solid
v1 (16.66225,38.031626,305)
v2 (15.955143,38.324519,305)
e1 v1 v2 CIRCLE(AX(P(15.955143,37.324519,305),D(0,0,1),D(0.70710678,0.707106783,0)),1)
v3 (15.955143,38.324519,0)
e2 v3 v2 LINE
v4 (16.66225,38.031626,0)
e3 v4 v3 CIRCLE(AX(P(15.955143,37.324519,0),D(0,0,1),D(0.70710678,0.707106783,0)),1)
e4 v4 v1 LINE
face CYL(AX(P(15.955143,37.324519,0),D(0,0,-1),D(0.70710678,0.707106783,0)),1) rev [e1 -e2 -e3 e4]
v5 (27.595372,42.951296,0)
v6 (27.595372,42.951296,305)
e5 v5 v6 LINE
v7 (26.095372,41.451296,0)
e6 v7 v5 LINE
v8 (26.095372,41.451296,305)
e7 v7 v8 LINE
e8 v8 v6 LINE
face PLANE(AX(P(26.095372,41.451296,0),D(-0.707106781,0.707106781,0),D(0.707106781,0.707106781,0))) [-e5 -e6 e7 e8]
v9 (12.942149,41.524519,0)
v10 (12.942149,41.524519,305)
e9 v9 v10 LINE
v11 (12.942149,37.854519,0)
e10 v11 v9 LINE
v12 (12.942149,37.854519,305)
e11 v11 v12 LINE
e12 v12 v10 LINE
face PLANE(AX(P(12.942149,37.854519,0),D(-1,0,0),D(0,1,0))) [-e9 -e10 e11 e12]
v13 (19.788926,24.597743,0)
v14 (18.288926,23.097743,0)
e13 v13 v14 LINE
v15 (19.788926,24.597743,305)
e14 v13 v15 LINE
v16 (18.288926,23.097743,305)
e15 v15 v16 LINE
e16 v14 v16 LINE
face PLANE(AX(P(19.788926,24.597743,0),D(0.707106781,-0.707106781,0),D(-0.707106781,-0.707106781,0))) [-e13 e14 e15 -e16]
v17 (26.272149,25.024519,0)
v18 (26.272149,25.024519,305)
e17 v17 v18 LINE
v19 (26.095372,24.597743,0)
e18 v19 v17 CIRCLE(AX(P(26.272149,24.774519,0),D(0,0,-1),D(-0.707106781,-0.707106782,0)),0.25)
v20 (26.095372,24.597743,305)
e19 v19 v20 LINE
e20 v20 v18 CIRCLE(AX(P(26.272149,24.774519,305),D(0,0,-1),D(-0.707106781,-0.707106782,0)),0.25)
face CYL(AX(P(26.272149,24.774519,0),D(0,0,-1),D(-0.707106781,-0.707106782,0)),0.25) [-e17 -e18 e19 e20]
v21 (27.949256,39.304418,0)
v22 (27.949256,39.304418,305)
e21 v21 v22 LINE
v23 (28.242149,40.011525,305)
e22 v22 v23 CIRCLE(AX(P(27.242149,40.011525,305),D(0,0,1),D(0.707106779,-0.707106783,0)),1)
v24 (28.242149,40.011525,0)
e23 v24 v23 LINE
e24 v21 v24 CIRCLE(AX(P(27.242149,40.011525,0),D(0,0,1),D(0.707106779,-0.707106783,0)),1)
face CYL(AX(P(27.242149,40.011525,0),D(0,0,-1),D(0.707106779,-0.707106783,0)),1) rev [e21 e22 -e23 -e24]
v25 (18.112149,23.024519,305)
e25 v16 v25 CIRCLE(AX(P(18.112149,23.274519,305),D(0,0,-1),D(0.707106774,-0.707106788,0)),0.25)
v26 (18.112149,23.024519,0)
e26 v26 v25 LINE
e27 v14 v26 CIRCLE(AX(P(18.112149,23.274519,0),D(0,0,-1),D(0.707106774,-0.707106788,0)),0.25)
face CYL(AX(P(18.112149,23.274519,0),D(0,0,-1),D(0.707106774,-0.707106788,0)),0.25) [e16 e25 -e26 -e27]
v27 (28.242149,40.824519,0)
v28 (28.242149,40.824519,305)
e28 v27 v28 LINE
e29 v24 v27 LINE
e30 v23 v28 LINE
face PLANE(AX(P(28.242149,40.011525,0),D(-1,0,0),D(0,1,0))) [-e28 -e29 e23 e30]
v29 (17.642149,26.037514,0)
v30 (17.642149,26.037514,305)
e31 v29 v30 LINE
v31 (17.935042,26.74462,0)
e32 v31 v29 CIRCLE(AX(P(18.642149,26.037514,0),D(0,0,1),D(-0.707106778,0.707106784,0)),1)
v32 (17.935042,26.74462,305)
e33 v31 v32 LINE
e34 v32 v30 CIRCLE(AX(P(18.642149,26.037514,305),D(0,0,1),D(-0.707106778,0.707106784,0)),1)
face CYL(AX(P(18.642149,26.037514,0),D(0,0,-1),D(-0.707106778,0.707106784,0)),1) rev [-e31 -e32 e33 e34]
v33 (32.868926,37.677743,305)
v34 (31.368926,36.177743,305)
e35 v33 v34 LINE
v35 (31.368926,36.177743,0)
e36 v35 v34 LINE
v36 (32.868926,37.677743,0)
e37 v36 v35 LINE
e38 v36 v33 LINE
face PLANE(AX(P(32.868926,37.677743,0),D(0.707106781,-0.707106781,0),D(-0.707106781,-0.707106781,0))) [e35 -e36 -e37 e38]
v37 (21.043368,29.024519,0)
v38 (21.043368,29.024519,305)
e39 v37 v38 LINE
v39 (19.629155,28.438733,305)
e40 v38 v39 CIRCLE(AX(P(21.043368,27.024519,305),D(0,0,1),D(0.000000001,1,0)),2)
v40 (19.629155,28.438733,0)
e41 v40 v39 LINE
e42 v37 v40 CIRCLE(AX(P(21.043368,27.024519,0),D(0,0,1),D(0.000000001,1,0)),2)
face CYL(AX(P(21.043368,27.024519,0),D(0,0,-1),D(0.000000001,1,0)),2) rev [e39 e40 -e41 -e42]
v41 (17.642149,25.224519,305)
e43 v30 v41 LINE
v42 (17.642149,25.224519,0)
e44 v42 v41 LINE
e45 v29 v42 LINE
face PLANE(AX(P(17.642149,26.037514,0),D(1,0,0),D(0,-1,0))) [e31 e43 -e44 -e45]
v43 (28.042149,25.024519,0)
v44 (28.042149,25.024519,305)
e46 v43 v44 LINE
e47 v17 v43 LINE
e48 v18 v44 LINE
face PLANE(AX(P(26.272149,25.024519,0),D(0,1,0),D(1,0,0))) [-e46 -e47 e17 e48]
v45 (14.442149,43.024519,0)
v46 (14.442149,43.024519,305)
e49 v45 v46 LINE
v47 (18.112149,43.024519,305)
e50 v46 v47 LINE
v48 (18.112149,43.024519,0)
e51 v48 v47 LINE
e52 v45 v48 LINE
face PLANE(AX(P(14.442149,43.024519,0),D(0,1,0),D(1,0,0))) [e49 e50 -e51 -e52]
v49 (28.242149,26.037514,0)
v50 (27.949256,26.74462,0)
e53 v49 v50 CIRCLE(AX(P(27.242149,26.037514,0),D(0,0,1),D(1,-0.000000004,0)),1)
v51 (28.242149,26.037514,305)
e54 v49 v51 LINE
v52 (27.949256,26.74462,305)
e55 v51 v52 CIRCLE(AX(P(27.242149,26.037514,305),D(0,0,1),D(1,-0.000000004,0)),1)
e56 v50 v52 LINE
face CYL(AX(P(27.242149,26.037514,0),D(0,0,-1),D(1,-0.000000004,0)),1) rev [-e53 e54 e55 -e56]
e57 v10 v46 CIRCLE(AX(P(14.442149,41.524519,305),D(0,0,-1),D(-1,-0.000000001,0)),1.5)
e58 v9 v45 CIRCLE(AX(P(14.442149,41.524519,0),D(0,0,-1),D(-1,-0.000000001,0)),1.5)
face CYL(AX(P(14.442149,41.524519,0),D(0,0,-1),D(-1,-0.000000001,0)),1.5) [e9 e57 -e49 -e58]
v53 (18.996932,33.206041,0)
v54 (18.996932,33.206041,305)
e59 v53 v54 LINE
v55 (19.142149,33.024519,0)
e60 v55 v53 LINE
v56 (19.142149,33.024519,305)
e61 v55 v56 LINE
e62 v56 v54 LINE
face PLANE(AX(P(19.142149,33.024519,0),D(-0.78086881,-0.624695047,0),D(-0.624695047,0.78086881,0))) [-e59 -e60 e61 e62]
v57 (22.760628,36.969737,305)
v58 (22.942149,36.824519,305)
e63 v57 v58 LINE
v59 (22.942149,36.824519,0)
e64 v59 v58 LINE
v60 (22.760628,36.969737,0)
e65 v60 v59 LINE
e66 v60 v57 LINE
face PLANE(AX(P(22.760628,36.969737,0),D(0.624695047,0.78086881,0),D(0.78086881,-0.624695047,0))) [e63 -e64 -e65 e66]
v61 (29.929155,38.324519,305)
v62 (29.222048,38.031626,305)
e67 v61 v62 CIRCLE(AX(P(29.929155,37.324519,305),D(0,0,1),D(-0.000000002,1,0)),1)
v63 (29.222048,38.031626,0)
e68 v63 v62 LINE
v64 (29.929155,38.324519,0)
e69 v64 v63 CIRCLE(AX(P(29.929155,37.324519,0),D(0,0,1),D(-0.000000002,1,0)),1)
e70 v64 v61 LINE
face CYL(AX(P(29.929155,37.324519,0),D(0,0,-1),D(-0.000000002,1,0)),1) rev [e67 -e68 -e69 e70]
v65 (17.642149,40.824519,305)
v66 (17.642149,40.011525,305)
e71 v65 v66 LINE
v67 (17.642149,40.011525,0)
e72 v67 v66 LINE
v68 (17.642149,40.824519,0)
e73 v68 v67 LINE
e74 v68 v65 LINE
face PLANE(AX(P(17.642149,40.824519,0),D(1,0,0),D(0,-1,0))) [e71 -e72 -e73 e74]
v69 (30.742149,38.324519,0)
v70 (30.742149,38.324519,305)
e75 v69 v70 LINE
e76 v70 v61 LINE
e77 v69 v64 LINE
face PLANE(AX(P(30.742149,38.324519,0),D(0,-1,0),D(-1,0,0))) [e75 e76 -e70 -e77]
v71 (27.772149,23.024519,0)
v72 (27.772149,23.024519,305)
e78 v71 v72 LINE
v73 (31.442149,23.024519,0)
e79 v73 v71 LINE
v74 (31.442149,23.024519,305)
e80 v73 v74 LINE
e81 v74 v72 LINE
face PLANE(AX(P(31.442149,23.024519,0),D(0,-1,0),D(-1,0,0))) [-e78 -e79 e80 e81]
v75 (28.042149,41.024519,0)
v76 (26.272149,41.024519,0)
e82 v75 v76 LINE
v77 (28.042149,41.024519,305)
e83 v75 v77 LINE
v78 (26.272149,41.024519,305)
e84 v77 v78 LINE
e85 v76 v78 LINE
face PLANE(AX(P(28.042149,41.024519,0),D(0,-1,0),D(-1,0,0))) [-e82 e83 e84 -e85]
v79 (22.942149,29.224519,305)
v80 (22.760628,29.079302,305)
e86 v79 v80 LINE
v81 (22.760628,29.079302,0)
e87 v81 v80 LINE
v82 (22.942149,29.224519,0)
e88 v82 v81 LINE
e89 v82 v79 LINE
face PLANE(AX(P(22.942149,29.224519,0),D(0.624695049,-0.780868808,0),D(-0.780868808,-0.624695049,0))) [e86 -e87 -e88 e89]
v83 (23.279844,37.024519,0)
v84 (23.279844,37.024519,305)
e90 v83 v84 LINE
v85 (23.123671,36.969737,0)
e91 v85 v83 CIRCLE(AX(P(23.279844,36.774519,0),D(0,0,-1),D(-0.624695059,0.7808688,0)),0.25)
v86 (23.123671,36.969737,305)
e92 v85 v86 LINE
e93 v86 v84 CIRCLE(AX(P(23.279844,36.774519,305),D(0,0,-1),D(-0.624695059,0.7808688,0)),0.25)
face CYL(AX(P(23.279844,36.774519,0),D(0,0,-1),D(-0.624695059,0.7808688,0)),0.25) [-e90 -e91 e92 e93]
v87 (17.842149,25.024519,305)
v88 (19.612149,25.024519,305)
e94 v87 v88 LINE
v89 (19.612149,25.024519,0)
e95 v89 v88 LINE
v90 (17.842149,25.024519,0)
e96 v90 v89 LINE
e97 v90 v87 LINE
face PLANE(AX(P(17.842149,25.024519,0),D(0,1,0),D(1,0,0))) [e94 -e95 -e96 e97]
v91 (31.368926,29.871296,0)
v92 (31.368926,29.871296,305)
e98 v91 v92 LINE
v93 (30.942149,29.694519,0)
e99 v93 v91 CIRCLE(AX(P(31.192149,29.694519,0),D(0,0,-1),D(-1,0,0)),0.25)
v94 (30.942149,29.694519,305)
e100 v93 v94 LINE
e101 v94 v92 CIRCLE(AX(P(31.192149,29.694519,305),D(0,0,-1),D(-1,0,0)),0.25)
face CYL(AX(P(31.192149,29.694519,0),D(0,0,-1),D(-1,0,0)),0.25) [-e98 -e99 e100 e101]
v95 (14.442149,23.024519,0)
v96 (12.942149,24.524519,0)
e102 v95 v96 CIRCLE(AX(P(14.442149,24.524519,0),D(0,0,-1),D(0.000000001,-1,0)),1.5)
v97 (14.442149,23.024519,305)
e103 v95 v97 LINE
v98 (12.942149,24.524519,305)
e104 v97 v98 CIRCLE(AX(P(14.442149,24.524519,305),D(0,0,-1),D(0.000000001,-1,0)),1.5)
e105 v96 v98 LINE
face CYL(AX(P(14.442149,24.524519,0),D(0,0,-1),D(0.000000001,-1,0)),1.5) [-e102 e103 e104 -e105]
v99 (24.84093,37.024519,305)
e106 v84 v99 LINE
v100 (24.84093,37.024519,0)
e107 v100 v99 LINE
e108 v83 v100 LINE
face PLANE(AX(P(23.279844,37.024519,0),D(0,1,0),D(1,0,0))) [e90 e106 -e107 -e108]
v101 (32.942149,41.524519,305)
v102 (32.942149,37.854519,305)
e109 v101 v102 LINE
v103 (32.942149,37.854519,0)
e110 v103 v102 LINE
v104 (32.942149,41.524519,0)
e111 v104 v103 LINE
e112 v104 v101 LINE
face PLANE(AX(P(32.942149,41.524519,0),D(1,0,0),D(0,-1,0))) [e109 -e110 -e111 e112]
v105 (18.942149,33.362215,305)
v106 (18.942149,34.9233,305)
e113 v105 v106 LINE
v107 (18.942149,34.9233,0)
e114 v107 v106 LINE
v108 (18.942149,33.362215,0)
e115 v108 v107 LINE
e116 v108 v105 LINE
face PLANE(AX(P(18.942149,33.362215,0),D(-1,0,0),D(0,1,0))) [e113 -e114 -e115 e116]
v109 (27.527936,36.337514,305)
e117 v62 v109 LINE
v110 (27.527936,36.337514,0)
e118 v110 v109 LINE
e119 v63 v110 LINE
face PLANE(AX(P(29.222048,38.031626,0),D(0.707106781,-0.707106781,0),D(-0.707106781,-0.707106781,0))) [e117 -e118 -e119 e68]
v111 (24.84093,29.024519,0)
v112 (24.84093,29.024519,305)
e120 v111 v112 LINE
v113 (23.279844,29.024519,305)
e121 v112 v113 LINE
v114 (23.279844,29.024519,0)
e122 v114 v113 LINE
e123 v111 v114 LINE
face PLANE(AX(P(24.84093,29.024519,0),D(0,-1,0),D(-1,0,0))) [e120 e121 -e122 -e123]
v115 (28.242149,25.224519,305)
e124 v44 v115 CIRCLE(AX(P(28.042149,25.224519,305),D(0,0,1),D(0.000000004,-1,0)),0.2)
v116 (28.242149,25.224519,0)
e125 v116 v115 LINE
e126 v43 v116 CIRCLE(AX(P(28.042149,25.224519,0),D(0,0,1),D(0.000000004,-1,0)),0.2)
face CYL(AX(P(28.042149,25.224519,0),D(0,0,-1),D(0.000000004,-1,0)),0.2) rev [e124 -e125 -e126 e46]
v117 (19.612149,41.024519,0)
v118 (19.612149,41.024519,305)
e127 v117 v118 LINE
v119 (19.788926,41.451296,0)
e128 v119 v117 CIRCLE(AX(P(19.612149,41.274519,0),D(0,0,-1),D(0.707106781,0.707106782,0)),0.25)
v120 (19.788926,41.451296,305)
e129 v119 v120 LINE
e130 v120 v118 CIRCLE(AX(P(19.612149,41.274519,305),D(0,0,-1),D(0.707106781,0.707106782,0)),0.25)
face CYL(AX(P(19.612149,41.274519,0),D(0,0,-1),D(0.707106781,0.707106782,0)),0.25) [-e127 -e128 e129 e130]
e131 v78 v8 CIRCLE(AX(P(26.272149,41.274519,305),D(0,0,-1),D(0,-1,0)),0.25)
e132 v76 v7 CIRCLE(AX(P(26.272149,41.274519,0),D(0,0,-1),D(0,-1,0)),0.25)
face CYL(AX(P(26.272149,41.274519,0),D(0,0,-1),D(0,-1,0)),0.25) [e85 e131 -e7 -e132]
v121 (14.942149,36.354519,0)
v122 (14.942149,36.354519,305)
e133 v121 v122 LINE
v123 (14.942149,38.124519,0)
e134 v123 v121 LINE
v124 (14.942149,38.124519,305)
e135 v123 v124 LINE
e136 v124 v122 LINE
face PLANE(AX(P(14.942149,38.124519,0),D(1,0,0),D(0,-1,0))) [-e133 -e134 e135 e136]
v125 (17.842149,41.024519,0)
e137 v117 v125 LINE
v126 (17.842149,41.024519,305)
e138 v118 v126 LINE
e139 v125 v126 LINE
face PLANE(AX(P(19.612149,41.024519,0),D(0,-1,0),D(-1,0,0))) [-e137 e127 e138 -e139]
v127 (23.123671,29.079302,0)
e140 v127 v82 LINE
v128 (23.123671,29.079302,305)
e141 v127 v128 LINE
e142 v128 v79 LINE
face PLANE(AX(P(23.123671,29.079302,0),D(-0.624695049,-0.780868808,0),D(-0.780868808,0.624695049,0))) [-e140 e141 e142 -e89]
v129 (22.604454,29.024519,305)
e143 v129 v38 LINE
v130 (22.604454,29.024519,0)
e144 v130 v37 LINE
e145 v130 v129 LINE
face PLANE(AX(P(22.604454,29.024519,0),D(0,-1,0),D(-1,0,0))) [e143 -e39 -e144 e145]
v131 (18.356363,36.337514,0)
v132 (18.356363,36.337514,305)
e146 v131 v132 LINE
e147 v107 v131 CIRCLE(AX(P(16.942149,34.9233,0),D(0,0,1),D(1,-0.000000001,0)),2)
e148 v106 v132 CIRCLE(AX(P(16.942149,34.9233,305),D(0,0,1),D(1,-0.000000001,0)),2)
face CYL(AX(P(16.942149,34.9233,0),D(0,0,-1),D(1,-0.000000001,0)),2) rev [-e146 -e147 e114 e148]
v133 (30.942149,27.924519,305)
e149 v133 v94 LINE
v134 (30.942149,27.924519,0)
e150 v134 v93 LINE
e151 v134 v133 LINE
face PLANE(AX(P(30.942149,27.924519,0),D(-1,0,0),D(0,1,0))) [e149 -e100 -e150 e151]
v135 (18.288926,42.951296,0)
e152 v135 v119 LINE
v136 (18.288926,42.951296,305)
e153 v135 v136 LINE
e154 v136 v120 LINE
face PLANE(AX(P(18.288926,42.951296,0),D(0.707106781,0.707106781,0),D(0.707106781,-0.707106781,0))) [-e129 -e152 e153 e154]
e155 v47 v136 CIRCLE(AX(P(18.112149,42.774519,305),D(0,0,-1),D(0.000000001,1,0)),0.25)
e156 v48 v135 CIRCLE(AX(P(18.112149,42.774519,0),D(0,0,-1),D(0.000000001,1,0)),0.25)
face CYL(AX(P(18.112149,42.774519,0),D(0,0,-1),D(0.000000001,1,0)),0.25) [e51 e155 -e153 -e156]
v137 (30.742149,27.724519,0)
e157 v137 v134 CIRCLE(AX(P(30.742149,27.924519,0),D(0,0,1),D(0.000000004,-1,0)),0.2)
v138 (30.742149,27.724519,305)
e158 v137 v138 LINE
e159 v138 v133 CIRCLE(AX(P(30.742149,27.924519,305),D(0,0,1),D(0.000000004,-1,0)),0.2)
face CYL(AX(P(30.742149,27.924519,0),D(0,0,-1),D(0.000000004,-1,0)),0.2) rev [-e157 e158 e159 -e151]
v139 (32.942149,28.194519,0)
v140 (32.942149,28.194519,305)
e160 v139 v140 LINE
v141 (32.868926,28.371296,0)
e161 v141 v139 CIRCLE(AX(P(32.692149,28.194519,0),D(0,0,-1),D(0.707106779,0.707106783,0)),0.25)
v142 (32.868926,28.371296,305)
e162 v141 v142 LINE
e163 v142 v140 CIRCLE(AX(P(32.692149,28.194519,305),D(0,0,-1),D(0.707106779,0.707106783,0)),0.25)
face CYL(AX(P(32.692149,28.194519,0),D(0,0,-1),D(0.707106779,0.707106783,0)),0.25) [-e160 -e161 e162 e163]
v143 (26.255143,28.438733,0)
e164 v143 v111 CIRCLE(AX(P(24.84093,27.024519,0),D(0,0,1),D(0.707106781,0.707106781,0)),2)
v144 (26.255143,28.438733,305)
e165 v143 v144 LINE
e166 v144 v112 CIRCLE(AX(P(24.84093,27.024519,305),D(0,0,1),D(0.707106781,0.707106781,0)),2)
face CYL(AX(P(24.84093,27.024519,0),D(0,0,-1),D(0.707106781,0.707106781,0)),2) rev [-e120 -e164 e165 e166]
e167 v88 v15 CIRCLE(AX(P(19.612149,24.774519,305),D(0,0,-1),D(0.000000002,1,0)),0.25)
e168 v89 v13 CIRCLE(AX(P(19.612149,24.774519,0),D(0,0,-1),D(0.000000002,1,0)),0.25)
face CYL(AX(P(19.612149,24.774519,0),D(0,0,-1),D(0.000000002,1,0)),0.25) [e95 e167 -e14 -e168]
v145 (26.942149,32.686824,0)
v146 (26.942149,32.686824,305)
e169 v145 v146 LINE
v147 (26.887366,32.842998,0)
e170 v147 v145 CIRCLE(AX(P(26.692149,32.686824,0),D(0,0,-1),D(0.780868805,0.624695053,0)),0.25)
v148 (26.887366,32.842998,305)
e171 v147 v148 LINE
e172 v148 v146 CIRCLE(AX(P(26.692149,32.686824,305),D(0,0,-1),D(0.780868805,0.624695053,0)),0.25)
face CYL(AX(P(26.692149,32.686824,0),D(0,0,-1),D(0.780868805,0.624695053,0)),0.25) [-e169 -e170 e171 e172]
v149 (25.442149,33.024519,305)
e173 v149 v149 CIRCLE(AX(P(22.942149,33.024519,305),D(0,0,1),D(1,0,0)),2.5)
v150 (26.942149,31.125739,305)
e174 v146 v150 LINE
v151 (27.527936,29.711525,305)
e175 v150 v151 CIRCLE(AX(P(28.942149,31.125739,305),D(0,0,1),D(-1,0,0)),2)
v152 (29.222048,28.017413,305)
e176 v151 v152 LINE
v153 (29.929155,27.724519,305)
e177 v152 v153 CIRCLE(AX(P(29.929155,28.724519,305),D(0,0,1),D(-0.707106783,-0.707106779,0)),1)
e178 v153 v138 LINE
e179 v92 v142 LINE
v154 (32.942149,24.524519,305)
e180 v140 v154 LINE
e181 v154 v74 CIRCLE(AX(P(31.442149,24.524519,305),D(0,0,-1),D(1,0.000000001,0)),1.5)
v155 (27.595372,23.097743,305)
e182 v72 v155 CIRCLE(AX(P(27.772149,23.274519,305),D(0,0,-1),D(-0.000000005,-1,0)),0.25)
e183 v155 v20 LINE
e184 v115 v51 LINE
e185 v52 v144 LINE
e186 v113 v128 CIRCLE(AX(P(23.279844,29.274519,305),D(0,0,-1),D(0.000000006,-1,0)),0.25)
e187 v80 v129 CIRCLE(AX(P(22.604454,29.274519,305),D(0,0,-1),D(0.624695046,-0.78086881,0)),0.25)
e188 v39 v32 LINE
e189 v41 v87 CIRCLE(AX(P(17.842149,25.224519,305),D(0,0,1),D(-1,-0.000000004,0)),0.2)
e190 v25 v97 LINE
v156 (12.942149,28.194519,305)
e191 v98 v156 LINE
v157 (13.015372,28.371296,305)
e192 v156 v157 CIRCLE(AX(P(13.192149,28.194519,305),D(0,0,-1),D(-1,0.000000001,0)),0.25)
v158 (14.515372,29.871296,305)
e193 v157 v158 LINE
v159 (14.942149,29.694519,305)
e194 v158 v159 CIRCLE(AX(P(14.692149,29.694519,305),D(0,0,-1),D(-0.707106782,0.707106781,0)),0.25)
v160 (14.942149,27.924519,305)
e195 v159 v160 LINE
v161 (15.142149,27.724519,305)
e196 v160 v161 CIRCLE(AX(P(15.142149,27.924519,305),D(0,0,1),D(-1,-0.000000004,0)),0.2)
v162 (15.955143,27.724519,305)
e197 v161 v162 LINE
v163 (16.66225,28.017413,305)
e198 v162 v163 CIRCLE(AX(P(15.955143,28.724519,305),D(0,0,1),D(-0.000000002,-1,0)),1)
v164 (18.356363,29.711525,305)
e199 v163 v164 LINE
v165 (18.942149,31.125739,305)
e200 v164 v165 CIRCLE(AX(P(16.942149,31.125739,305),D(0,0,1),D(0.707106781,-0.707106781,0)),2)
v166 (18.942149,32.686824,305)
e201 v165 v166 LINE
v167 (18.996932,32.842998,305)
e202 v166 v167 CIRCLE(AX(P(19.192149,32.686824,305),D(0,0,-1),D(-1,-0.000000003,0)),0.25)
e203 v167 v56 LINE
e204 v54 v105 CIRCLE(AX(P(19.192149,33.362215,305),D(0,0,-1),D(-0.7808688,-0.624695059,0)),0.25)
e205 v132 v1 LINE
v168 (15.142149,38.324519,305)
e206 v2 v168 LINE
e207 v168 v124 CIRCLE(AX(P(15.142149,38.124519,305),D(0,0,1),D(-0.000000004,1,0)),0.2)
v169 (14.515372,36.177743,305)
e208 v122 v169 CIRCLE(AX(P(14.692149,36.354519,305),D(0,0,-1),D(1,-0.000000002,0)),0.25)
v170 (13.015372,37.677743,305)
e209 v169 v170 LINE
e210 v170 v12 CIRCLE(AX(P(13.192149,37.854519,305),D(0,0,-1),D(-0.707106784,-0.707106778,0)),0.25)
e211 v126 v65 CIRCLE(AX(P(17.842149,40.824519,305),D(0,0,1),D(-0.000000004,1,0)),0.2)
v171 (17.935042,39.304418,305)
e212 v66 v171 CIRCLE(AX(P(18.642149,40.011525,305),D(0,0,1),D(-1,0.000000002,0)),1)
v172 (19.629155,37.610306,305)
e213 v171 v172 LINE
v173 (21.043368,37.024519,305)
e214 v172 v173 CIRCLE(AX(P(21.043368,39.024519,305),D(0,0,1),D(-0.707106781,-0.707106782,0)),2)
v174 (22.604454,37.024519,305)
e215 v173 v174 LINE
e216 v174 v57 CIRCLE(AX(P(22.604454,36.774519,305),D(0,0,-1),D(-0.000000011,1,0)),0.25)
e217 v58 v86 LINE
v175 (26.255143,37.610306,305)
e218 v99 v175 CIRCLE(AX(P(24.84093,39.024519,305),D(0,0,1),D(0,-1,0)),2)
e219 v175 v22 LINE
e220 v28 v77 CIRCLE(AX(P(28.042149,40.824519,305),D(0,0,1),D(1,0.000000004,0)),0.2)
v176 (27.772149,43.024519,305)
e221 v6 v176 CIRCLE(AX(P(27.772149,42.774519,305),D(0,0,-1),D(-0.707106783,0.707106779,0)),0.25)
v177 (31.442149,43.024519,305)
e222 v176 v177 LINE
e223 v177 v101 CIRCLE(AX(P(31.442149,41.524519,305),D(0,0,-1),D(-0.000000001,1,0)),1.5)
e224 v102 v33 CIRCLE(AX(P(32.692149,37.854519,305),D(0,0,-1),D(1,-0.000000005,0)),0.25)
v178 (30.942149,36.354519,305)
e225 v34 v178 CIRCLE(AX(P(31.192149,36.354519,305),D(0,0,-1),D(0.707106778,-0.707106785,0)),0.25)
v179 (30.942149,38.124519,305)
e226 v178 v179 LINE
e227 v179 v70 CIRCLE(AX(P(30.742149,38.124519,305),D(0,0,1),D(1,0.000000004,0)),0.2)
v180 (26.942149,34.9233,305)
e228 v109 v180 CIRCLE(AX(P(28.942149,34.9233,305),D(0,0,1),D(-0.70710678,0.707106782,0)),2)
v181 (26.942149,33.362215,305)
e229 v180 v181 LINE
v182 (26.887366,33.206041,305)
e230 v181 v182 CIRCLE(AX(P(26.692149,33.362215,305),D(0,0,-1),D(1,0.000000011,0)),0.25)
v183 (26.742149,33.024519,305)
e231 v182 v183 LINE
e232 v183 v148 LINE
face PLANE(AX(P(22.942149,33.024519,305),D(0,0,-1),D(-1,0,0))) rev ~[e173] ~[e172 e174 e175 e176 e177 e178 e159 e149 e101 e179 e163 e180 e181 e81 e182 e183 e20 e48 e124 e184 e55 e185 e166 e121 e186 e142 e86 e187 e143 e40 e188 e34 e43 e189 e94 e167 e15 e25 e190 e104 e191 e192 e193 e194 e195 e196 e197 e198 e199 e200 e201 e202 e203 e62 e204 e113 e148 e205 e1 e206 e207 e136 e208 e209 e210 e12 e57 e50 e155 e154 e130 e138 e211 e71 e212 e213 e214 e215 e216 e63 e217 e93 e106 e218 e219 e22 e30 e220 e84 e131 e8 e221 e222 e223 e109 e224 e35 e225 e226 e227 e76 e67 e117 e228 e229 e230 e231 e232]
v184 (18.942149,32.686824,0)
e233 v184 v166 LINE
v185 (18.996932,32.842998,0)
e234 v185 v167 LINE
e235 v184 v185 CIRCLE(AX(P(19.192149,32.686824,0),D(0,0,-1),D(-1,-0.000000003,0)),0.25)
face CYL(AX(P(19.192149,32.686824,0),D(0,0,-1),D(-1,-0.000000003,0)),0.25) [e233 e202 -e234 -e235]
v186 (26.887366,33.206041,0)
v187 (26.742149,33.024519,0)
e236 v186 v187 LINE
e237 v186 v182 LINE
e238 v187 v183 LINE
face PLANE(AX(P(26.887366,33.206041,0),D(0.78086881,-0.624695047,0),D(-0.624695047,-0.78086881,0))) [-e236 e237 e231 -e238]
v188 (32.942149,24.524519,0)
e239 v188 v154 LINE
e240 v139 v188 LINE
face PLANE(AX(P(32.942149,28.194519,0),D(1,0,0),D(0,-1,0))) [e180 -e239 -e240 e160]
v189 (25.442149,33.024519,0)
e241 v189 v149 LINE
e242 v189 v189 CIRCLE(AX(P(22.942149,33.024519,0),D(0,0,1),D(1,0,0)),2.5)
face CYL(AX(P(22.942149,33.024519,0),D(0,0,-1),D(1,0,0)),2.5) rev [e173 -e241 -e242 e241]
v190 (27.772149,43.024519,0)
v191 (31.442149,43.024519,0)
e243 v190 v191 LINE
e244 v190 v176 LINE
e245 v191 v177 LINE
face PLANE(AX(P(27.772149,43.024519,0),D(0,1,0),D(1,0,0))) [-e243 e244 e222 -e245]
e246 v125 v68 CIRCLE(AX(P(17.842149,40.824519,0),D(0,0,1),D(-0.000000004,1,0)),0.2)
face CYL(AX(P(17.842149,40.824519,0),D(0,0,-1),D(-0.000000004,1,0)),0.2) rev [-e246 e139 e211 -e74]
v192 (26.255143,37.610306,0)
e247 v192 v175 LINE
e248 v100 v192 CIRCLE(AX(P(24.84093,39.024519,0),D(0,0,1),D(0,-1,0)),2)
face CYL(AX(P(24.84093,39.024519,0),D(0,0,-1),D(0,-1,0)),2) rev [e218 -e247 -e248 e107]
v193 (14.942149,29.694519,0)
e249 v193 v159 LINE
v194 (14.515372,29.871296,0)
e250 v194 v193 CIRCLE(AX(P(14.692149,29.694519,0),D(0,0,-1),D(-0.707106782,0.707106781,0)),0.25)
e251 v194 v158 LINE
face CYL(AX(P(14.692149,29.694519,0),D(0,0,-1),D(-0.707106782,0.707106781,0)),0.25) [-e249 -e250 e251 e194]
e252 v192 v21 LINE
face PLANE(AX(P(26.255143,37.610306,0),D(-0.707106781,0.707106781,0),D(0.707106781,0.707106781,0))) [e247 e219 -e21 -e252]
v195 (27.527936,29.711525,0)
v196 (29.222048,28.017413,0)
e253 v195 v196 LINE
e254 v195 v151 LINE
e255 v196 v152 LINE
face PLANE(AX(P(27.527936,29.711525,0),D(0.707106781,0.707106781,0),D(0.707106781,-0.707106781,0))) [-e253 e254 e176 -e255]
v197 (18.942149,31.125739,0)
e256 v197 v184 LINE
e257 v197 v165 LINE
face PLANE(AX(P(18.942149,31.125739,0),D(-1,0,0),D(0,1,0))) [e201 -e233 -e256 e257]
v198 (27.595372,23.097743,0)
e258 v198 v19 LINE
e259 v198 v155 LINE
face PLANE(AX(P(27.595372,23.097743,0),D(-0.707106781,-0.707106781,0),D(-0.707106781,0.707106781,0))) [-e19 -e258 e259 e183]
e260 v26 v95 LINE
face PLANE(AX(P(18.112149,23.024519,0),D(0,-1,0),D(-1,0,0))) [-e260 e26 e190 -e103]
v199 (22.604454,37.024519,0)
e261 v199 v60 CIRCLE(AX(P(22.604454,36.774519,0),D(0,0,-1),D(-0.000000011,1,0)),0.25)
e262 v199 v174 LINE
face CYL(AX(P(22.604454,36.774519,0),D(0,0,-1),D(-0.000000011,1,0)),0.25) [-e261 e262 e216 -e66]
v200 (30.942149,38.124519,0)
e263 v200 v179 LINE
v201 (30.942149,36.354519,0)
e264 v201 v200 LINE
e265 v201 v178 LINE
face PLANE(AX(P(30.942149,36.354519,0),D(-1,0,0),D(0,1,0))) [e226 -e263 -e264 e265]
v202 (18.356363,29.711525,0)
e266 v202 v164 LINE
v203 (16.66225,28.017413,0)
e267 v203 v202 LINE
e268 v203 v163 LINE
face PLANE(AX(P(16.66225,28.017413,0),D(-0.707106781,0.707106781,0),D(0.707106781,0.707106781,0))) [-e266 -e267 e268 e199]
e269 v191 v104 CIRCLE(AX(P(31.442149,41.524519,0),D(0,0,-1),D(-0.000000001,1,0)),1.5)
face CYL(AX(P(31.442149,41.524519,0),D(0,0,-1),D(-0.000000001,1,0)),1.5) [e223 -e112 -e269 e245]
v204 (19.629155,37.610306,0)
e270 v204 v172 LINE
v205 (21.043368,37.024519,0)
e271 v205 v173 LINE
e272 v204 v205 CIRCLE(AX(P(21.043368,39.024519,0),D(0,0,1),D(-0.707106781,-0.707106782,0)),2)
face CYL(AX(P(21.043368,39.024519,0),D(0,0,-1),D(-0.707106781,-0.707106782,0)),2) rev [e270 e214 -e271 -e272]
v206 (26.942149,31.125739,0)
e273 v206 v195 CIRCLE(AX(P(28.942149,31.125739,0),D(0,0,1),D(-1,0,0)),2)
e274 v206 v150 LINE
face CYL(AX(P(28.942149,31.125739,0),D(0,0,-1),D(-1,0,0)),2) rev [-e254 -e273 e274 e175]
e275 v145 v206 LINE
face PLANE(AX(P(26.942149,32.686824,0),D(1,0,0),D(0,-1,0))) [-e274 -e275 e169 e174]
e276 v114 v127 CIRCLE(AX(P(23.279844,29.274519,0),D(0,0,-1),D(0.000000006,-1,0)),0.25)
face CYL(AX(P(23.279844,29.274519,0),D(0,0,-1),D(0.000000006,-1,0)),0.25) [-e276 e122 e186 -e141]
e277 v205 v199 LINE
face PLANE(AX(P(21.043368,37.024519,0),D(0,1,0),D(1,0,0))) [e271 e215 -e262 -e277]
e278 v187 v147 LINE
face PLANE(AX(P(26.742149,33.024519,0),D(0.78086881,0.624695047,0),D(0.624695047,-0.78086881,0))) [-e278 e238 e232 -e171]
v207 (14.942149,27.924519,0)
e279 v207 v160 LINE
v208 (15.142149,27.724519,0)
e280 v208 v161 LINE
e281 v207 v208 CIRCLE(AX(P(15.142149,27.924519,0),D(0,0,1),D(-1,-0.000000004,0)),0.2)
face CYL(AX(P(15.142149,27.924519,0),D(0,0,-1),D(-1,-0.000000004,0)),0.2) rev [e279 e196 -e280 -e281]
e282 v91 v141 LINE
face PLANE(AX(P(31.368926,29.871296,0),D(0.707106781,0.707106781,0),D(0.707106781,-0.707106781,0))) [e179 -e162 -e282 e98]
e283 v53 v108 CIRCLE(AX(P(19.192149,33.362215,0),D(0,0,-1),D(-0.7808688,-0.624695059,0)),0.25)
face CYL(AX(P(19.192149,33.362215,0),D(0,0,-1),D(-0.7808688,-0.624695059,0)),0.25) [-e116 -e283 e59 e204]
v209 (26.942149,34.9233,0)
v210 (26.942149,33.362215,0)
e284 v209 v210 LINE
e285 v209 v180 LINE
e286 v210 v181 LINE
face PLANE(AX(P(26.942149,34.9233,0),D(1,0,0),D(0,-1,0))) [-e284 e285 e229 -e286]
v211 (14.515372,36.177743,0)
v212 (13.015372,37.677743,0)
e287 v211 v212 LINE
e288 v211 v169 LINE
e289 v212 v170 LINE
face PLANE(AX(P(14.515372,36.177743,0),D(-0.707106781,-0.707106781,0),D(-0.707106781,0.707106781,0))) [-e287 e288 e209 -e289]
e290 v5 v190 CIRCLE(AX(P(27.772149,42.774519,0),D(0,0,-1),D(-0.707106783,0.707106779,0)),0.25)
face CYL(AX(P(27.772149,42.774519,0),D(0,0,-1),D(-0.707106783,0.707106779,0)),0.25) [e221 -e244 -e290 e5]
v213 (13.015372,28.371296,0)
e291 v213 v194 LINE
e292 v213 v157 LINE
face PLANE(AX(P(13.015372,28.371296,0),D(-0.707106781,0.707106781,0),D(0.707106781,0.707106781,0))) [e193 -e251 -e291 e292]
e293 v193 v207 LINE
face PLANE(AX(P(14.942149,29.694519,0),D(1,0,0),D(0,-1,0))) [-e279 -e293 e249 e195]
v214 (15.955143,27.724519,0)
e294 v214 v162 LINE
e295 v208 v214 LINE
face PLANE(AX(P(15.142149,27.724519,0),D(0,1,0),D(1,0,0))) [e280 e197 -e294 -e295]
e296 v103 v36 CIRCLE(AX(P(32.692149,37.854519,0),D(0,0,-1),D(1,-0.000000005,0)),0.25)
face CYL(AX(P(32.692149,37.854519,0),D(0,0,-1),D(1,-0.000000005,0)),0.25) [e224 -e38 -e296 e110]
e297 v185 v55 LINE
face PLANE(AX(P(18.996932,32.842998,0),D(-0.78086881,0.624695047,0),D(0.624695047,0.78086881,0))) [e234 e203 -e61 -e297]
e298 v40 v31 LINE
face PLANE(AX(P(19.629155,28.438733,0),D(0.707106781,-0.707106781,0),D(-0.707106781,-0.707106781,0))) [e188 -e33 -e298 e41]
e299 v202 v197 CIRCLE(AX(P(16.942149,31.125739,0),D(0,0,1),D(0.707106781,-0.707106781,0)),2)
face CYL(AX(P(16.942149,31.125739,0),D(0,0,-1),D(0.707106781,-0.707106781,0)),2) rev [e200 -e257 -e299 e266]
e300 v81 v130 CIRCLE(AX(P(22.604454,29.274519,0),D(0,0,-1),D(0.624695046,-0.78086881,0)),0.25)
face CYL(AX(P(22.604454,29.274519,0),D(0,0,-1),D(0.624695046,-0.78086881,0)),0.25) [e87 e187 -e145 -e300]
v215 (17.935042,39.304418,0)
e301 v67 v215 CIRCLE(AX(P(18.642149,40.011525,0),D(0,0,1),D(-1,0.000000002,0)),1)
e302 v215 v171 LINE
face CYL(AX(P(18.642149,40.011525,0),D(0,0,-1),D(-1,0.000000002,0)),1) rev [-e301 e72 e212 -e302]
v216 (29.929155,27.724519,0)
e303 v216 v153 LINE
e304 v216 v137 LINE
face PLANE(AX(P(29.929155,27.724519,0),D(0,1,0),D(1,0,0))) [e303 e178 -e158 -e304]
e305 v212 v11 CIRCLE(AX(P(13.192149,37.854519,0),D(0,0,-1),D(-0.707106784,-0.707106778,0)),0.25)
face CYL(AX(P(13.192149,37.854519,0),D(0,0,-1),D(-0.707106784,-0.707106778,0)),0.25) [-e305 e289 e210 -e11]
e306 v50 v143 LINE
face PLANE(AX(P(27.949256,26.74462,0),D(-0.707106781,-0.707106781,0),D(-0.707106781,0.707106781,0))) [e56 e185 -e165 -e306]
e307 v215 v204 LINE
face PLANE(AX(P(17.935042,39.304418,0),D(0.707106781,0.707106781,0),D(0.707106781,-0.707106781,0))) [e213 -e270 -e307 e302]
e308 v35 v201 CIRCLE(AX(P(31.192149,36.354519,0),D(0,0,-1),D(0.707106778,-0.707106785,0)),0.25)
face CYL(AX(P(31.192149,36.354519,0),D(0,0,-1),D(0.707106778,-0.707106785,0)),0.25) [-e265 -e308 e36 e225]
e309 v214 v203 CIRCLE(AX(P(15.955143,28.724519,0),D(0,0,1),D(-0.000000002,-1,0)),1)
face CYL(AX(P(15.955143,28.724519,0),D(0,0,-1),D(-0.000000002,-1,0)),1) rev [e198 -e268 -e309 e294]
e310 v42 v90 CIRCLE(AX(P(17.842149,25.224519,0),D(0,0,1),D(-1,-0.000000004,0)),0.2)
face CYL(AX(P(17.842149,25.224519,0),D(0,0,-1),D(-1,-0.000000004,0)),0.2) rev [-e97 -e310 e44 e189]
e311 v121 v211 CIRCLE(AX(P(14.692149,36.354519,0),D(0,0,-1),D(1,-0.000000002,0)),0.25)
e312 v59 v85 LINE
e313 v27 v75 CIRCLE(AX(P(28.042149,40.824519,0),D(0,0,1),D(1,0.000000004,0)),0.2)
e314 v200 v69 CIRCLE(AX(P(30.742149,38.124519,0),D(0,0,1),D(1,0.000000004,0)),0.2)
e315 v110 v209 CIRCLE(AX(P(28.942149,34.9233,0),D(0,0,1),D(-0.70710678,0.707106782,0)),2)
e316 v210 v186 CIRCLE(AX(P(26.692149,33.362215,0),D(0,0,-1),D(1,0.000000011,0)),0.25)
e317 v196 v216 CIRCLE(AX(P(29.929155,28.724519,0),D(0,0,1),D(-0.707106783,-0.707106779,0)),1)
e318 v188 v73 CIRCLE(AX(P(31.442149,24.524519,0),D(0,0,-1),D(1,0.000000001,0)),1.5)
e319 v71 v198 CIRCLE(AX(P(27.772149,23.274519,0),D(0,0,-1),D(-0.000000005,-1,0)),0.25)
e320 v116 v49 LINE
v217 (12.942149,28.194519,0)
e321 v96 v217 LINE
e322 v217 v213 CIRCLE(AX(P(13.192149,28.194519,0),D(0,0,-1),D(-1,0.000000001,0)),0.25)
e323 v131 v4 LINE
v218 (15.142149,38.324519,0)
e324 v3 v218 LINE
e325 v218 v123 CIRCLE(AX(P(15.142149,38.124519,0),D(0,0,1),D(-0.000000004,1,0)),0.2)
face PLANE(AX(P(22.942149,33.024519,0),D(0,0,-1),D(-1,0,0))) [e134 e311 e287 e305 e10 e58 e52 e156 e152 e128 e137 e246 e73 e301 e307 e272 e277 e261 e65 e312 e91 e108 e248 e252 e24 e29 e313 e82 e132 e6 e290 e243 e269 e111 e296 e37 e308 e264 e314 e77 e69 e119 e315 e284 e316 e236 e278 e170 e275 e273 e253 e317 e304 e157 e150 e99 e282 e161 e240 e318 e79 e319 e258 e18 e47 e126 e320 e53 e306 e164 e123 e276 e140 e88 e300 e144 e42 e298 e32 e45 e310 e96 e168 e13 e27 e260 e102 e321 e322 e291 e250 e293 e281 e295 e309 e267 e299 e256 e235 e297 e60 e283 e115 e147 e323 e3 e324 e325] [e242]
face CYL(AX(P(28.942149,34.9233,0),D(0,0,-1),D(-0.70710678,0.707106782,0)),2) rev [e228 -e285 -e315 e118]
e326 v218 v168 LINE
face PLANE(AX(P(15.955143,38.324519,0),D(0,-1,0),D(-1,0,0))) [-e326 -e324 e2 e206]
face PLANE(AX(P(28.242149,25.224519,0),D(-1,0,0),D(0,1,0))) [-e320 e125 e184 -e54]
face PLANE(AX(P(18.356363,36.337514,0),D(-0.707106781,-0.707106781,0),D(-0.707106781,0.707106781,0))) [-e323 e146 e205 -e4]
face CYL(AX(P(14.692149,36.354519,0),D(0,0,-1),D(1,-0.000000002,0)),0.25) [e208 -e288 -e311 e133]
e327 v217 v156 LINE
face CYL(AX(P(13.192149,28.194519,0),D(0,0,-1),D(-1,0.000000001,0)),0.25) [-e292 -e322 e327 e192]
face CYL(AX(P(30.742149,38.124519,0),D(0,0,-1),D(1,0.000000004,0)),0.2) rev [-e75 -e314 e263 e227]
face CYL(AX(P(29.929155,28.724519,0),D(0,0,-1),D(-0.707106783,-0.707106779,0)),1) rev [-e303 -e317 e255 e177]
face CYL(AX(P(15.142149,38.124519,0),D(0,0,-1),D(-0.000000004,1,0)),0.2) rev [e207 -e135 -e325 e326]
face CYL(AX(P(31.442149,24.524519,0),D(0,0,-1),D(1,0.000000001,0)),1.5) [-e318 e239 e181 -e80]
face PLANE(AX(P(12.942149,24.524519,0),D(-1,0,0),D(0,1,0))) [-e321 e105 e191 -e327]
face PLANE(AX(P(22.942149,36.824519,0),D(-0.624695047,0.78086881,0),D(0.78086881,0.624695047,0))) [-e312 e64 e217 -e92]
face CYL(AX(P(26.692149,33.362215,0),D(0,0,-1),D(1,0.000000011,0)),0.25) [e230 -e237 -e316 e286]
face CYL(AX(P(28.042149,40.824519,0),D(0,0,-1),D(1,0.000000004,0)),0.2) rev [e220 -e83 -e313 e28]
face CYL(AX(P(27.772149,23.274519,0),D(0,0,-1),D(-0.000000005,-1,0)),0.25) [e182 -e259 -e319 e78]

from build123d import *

# Parameters (mm, degrees)
MODEL_R         = 2.5
EXTRUDE_1_DEPTH = 305


with BuildPart() as part:
    # Model → Бобышка-Вытянуть1 (new body)
    with BuildSketch(Plane.XY):
        with BuildLine():
            Line((18.94214915, 33.362214718), (18.94214915, 34.923300122))
            ThreePointArc((18.94214915, 34.923300122), (18.789908215, 35.688666987), (18.356362712, 36.337513684))
            Line((18.356362712, 36.337513684), (16.662250163, 38.031626234))
            ThreePointArc((16.662250163, 38.031626234), (16.337826814, 38.248398985), (15.955143382, 38.324519453))
            Line((15.955143382, 38.324519453), (15.14214915, 38.324519453))
            ThreePointArc((15.14214915, 38.324519453), (15.000727794, 38.265940809), (14.94214915, 38.124519453))
            Line((14.94214915, 38.124519453), (14.94214915, 36.354519453))
            ThreePointArc((14.94214915, 36.354519453), (14.787820008, 36.12354957), (14.515372455, 36.177742757))
            Line((14.515372455, 36.177742757), (13.015372455, 37.677742757))
            ThreePointArc((13.015372455, 37.677742757), (12.961179267, 37.758848595), (12.94214915, 37.854519453))
            Line((12.94214915, 37.854519453), (12.94214915, 41.524519453))
            ThreePointArc((12.94214915, 41.524519453), (13.381488978, 42.585179625), (14.44214915, 43.024519453))
            Line((14.44214915, 43.024519453), (18.11214915, 43.024519453))
            ThreePointArc((18.11214915, 43.024519453), (18.207820008, 43.005489336), (18.288925845, 42.951296148))
            Line((18.288925845, 42.951296148), (19.788925845, 41.451296148))
            ThreePointArc((19.788925845, 41.451296148), (19.843119033, 41.178848595), (19.61214915, 41.024519453))
            Line((19.61214915, 41.024519453), (17.84214915, 41.024519453))
            ThreePointArc((17.84214915, 41.024519453), (17.700727794, 40.965940809), (17.64214915, 40.824519453))
            Line((17.64214915, 40.824519453), (17.64214915, 40.011525221))
            ThreePointArc((17.64214915, 40.011525221), (17.718269617, 39.628841789), (17.935042369, 39.30441844))
            Line((17.935042369, 39.30441844), (19.629154919, 37.61030589))
            ThreePointArc((19.629154919, 37.61030589), (20.278001616, 37.176760388), (21.043368481, 37.024519453))
            Line((21.043368481, 37.024519453), (22.604453885, 37.024519453))
            ThreePointArc((22.604453885, 37.024519453), (22.687205621, 37.010426533), (22.760627647, 36.969736655))
            Line((22.760627647, 36.969736655), (22.94214915, 36.824519453))
            Line((22.94214915, 36.824519453), (23.123670653, 36.969736655))
            ThreePointArc((23.123670653, 36.969736655), (23.197092679, 37.010426533), (23.279844415, 37.024519453))
            Line((23.279844415, 37.024519453), (24.840929819, 37.024519453))
            ThreePointArc((24.840929819, 37.024519453), (25.606296684, 37.176760388), (26.255143382, 37.61030589))
            Line((26.255143382, 37.61030589), (27.949255931, 39.30441844))
            ThreePointArc((27.949255931, 39.30441844), (28.166028683, 39.628841789), (28.24214915, 40.011525221))
            Line((28.24214915, 40.011525221), (28.24214915, 40.824519453))
            ThreePointArc((28.24214915, 40.824519453), (28.183570506, 40.965940809), (28.04214915, 41.024519453))
            Line((28.04214915, 41.024519453), (26.27214915, 41.024519453))
            ThreePointArc((26.27214915, 41.024519453), (26.041179267, 41.178848595), (26.095372455, 41.451296148))
            Line((26.095372455, 41.451296148), (27.595372455, 42.951296148))
            ThreePointArc((27.595372455, 42.951296148), (27.676478292, 43.005489336), (27.77214915, 43.024519453))
            Line((27.77214915, 43.024519453), (31.44214915, 43.024519453))
            ThreePointArc((31.44214915, 43.024519453), (32.502809322, 42.585179625), (32.94214915, 41.524519453))
            Line((32.94214915, 41.524519453), (32.94214915, 37.854519453))
            ThreePointArc((32.94214915, 37.854519453), (32.923119033, 37.758848595), (32.868925845, 37.677742757))
            Line((32.868925845, 37.677742757), (31.368925845, 36.177742757))
            ThreePointArc((31.368925845, 36.177742757), (31.096478292, 36.12354957), (30.94214915, 36.354519453))
            Line((30.94214915, 36.354519453), (30.94214915, 38.124519453))
            ThreePointArc((30.94214915, 38.124519453), (30.883570506, 38.265940809), (30.74214915, 38.324519453))
            Line((30.74214915, 38.324519453), (29.929154919, 38.324519453))
            ThreePointArc((29.929154919, 38.324519453), (29.546471486, 38.248398985), (29.222048137, 38.031626234))
            Line((29.222048137, 38.031626234), (27.527935588, 36.337513684))
            ThreePointArc((27.527935588, 36.337513684), (27.094390085, 35.688666987), (26.94214915, 34.923300122))
            Line((26.94214915, 34.923300122), (26.94214915, 33.362214718))
            ThreePointArc((26.94214915, 33.362214718), (26.92805623, 33.279462982), (26.887366352, 33.206040956))
            Line((26.887366352, 33.206040956), (26.74214915, 33.024519453))
            Line((26.74214915, 33.024519453), (26.887366352, 32.84299795))
            ThreePointArc((26.887366352, 32.84299795), (26.92805623, 32.769575923), (26.94214915, 32.686824188))
            Line((26.94214915, 32.686824188), (26.94214915, 31.125738784))
            ThreePointArc((26.94214915, 31.125738784), (27.094390085, 30.360371919), (27.527935588, 29.711525221))
            Line((27.527935588, 29.711525221), (29.222048137, 28.017412672))
            ThreePointArc((29.222048137, 28.017412672), (29.546471486, 27.80063992), (29.929154919, 27.724519453))
            Line((29.929154919, 27.724519453), (30.74214915, 27.724519453))
            ThreePointArc((30.74214915, 27.724519453), (30.883570506, 27.783098097), (30.94214915, 27.924519453))
            Line((30.94214915, 27.924519453), (30.94214915, 29.694519453))
            ThreePointArc((30.94214915, 29.694519453), (31.096478292, 29.925489336), (31.368925845, 29.871296148))
            Line((31.368925845, 29.871296148), (32.868925845, 28.371296148))
            ThreePointArc((32.868925845, 28.371296148), (32.923119033, 28.290190311), (32.94214915, 28.194519453))
            Line((32.94214915, 28.194519453), (32.94214915, 24.524519453))
            ThreePointArc((32.94214915, 24.524519453), (32.502809322, 23.463859281), (31.44214915, 23.024519453))
            Line((31.44214915, 23.024519453), (27.77214915, 23.024519453))
            ThreePointArc((27.77214915, 23.024519453), (27.676478292, 23.04354957), (27.595372455, 23.097742757))
            Line((27.595372455, 23.097742757), (26.095372455, 24.597742757))
            ThreePointArc((26.095372455, 24.597742757), (26.041179267, 24.870190311), (26.27214915, 25.024519453))
            Line((26.27214915, 25.024519453), (28.04214915, 25.024519453))
            ThreePointArc((28.04214915, 25.024519453), (28.183570506, 25.083098097), (28.24214915, 25.224519453))
            Line((28.24214915, 25.224519453), (28.24214915, 26.037513684))
            ThreePointArc((28.24214915, 26.037513684), (28.166028683, 26.420197117), (27.949255931, 26.744620465))
            Line((27.949255931, 26.744620465), (26.255143382, 28.438733015))
            ThreePointArc((26.255143382, 28.438733015), (25.606296684, 28.872278518), (24.840929819, 29.024519453))
            Line((24.840929819, 29.024519453), (23.279844415, 29.024519453))
            ThreePointArc((23.279844415, 29.024519453), (23.197092679, 29.038612373), (23.123670653, 29.07930225))
            Line((23.123670653, 29.07930225), (22.94214915, 29.224519453))
            Line((22.94214915, 29.224519453), (22.760627647, 29.07930225))
            ThreePointArc((22.760627647, 29.07930225), (22.687205621, 29.038612373), (22.604453885, 29.024519453))
            Line((22.604453885, 29.024519453), (21.043368481, 29.024519453))
            ThreePointArc((21.043368481, 29.024519453), (20.278001616, 28.872278518), (19.629154919, 28.438733015))
            Line((19.629154919, 28.438733015), (17.935042369, 26.744620465))
            ThreePointArc((17.935042369, 26.744620465), (17.718269617, 26.420197117), (17.64214915, 26.037513684))
            Line((17.64214915, 26.037513684), (17.64214915, 25.224519453))
            ThreePointArc((17.64214915, 25.224519453), (17.700727794, 25.083098097), (17.84214915, 25.024519453))
            Line((17.84214915, 25.024519453), (19.61214915, 25.024519453))
            ThreePointArc((19.61214915, 25.024519453), (19.843119033, 24.870190311), (19.788925845, 24.597742757))
            Line((19.788925845, 24.597742757), (18.288925845, 23.097742757))
            ThreePointArc((18.288925845, 23.097742757), (18.207820008, 23.04354957), (18.11214915, 23.024519453))
            Line((18.11214915, 23.024519453), (14.44214915, 23.024519453))
            ThreePointArc((14.44214915, 23.024519453), (13.381488978, 23.463859281), (12.94214915, 24.524519453))
            Line((12.94214915, 24.524519453), (12.94214915, 28.194519453))
            ThreePointArc((12.94214915, 28.194519453), (12.961179267, 28.290190311), (13.015372455, 28.371296148))
            Line((13.015372455, 28.371296148), (14.515372455, 29.871296148))
            ThreePointArc((14.515372455, 29.871296148), (14.787820008, 29.925489336), (14.94214915, 29.694519453))
            Line((14.94214915, 29.694519453), (14.94214915, 27.924519453))
            ThreePointArc((14.94214915, 27.924519453), (15.000727794, 27.783098097), (15.14214915, 27.724519453))
            Line((15.14214915, 27.724519453), (15.955143382, 27.724519453))
            ThreePointArc((15.955143382, 27.724519453), (16.337826814, 27.80063992), (16.662250163, 28.017412672))
            Line((16.662250163, 28.017412672), (18.356362712, 29.711525221))
            ThreePointArc((18.356362712, 29.711525221), (18.789908215, 30.360371919), (18.94214915, 31.125738784))
            Line((18.94214915, 31.125738784), (18.94214915, 32.686824188))
            ThreePointArc((18.94214915, 32.686824188), (18.95624207, 32.769575923), (18.996931948, 32.84299795))
            Line((18.996931948, 32.84299795), (19.14214915, 33.024519453))
            Line((19.14214915, 33.024519453), (18.996931948, 33.206040956))
            ThreePointArc((18.996931948, 33.206040956), (18.95624207, 33.279462982), (18.94214915, 33.362214718))
        make_face()
        with Locations((22.94214915, 33.024519453)):
            Circle(MODEL_R, mode=Mode.SUBTRACT)
    extrude(amount=EXTRUDE_1_DEPTH)


solid = part.part
